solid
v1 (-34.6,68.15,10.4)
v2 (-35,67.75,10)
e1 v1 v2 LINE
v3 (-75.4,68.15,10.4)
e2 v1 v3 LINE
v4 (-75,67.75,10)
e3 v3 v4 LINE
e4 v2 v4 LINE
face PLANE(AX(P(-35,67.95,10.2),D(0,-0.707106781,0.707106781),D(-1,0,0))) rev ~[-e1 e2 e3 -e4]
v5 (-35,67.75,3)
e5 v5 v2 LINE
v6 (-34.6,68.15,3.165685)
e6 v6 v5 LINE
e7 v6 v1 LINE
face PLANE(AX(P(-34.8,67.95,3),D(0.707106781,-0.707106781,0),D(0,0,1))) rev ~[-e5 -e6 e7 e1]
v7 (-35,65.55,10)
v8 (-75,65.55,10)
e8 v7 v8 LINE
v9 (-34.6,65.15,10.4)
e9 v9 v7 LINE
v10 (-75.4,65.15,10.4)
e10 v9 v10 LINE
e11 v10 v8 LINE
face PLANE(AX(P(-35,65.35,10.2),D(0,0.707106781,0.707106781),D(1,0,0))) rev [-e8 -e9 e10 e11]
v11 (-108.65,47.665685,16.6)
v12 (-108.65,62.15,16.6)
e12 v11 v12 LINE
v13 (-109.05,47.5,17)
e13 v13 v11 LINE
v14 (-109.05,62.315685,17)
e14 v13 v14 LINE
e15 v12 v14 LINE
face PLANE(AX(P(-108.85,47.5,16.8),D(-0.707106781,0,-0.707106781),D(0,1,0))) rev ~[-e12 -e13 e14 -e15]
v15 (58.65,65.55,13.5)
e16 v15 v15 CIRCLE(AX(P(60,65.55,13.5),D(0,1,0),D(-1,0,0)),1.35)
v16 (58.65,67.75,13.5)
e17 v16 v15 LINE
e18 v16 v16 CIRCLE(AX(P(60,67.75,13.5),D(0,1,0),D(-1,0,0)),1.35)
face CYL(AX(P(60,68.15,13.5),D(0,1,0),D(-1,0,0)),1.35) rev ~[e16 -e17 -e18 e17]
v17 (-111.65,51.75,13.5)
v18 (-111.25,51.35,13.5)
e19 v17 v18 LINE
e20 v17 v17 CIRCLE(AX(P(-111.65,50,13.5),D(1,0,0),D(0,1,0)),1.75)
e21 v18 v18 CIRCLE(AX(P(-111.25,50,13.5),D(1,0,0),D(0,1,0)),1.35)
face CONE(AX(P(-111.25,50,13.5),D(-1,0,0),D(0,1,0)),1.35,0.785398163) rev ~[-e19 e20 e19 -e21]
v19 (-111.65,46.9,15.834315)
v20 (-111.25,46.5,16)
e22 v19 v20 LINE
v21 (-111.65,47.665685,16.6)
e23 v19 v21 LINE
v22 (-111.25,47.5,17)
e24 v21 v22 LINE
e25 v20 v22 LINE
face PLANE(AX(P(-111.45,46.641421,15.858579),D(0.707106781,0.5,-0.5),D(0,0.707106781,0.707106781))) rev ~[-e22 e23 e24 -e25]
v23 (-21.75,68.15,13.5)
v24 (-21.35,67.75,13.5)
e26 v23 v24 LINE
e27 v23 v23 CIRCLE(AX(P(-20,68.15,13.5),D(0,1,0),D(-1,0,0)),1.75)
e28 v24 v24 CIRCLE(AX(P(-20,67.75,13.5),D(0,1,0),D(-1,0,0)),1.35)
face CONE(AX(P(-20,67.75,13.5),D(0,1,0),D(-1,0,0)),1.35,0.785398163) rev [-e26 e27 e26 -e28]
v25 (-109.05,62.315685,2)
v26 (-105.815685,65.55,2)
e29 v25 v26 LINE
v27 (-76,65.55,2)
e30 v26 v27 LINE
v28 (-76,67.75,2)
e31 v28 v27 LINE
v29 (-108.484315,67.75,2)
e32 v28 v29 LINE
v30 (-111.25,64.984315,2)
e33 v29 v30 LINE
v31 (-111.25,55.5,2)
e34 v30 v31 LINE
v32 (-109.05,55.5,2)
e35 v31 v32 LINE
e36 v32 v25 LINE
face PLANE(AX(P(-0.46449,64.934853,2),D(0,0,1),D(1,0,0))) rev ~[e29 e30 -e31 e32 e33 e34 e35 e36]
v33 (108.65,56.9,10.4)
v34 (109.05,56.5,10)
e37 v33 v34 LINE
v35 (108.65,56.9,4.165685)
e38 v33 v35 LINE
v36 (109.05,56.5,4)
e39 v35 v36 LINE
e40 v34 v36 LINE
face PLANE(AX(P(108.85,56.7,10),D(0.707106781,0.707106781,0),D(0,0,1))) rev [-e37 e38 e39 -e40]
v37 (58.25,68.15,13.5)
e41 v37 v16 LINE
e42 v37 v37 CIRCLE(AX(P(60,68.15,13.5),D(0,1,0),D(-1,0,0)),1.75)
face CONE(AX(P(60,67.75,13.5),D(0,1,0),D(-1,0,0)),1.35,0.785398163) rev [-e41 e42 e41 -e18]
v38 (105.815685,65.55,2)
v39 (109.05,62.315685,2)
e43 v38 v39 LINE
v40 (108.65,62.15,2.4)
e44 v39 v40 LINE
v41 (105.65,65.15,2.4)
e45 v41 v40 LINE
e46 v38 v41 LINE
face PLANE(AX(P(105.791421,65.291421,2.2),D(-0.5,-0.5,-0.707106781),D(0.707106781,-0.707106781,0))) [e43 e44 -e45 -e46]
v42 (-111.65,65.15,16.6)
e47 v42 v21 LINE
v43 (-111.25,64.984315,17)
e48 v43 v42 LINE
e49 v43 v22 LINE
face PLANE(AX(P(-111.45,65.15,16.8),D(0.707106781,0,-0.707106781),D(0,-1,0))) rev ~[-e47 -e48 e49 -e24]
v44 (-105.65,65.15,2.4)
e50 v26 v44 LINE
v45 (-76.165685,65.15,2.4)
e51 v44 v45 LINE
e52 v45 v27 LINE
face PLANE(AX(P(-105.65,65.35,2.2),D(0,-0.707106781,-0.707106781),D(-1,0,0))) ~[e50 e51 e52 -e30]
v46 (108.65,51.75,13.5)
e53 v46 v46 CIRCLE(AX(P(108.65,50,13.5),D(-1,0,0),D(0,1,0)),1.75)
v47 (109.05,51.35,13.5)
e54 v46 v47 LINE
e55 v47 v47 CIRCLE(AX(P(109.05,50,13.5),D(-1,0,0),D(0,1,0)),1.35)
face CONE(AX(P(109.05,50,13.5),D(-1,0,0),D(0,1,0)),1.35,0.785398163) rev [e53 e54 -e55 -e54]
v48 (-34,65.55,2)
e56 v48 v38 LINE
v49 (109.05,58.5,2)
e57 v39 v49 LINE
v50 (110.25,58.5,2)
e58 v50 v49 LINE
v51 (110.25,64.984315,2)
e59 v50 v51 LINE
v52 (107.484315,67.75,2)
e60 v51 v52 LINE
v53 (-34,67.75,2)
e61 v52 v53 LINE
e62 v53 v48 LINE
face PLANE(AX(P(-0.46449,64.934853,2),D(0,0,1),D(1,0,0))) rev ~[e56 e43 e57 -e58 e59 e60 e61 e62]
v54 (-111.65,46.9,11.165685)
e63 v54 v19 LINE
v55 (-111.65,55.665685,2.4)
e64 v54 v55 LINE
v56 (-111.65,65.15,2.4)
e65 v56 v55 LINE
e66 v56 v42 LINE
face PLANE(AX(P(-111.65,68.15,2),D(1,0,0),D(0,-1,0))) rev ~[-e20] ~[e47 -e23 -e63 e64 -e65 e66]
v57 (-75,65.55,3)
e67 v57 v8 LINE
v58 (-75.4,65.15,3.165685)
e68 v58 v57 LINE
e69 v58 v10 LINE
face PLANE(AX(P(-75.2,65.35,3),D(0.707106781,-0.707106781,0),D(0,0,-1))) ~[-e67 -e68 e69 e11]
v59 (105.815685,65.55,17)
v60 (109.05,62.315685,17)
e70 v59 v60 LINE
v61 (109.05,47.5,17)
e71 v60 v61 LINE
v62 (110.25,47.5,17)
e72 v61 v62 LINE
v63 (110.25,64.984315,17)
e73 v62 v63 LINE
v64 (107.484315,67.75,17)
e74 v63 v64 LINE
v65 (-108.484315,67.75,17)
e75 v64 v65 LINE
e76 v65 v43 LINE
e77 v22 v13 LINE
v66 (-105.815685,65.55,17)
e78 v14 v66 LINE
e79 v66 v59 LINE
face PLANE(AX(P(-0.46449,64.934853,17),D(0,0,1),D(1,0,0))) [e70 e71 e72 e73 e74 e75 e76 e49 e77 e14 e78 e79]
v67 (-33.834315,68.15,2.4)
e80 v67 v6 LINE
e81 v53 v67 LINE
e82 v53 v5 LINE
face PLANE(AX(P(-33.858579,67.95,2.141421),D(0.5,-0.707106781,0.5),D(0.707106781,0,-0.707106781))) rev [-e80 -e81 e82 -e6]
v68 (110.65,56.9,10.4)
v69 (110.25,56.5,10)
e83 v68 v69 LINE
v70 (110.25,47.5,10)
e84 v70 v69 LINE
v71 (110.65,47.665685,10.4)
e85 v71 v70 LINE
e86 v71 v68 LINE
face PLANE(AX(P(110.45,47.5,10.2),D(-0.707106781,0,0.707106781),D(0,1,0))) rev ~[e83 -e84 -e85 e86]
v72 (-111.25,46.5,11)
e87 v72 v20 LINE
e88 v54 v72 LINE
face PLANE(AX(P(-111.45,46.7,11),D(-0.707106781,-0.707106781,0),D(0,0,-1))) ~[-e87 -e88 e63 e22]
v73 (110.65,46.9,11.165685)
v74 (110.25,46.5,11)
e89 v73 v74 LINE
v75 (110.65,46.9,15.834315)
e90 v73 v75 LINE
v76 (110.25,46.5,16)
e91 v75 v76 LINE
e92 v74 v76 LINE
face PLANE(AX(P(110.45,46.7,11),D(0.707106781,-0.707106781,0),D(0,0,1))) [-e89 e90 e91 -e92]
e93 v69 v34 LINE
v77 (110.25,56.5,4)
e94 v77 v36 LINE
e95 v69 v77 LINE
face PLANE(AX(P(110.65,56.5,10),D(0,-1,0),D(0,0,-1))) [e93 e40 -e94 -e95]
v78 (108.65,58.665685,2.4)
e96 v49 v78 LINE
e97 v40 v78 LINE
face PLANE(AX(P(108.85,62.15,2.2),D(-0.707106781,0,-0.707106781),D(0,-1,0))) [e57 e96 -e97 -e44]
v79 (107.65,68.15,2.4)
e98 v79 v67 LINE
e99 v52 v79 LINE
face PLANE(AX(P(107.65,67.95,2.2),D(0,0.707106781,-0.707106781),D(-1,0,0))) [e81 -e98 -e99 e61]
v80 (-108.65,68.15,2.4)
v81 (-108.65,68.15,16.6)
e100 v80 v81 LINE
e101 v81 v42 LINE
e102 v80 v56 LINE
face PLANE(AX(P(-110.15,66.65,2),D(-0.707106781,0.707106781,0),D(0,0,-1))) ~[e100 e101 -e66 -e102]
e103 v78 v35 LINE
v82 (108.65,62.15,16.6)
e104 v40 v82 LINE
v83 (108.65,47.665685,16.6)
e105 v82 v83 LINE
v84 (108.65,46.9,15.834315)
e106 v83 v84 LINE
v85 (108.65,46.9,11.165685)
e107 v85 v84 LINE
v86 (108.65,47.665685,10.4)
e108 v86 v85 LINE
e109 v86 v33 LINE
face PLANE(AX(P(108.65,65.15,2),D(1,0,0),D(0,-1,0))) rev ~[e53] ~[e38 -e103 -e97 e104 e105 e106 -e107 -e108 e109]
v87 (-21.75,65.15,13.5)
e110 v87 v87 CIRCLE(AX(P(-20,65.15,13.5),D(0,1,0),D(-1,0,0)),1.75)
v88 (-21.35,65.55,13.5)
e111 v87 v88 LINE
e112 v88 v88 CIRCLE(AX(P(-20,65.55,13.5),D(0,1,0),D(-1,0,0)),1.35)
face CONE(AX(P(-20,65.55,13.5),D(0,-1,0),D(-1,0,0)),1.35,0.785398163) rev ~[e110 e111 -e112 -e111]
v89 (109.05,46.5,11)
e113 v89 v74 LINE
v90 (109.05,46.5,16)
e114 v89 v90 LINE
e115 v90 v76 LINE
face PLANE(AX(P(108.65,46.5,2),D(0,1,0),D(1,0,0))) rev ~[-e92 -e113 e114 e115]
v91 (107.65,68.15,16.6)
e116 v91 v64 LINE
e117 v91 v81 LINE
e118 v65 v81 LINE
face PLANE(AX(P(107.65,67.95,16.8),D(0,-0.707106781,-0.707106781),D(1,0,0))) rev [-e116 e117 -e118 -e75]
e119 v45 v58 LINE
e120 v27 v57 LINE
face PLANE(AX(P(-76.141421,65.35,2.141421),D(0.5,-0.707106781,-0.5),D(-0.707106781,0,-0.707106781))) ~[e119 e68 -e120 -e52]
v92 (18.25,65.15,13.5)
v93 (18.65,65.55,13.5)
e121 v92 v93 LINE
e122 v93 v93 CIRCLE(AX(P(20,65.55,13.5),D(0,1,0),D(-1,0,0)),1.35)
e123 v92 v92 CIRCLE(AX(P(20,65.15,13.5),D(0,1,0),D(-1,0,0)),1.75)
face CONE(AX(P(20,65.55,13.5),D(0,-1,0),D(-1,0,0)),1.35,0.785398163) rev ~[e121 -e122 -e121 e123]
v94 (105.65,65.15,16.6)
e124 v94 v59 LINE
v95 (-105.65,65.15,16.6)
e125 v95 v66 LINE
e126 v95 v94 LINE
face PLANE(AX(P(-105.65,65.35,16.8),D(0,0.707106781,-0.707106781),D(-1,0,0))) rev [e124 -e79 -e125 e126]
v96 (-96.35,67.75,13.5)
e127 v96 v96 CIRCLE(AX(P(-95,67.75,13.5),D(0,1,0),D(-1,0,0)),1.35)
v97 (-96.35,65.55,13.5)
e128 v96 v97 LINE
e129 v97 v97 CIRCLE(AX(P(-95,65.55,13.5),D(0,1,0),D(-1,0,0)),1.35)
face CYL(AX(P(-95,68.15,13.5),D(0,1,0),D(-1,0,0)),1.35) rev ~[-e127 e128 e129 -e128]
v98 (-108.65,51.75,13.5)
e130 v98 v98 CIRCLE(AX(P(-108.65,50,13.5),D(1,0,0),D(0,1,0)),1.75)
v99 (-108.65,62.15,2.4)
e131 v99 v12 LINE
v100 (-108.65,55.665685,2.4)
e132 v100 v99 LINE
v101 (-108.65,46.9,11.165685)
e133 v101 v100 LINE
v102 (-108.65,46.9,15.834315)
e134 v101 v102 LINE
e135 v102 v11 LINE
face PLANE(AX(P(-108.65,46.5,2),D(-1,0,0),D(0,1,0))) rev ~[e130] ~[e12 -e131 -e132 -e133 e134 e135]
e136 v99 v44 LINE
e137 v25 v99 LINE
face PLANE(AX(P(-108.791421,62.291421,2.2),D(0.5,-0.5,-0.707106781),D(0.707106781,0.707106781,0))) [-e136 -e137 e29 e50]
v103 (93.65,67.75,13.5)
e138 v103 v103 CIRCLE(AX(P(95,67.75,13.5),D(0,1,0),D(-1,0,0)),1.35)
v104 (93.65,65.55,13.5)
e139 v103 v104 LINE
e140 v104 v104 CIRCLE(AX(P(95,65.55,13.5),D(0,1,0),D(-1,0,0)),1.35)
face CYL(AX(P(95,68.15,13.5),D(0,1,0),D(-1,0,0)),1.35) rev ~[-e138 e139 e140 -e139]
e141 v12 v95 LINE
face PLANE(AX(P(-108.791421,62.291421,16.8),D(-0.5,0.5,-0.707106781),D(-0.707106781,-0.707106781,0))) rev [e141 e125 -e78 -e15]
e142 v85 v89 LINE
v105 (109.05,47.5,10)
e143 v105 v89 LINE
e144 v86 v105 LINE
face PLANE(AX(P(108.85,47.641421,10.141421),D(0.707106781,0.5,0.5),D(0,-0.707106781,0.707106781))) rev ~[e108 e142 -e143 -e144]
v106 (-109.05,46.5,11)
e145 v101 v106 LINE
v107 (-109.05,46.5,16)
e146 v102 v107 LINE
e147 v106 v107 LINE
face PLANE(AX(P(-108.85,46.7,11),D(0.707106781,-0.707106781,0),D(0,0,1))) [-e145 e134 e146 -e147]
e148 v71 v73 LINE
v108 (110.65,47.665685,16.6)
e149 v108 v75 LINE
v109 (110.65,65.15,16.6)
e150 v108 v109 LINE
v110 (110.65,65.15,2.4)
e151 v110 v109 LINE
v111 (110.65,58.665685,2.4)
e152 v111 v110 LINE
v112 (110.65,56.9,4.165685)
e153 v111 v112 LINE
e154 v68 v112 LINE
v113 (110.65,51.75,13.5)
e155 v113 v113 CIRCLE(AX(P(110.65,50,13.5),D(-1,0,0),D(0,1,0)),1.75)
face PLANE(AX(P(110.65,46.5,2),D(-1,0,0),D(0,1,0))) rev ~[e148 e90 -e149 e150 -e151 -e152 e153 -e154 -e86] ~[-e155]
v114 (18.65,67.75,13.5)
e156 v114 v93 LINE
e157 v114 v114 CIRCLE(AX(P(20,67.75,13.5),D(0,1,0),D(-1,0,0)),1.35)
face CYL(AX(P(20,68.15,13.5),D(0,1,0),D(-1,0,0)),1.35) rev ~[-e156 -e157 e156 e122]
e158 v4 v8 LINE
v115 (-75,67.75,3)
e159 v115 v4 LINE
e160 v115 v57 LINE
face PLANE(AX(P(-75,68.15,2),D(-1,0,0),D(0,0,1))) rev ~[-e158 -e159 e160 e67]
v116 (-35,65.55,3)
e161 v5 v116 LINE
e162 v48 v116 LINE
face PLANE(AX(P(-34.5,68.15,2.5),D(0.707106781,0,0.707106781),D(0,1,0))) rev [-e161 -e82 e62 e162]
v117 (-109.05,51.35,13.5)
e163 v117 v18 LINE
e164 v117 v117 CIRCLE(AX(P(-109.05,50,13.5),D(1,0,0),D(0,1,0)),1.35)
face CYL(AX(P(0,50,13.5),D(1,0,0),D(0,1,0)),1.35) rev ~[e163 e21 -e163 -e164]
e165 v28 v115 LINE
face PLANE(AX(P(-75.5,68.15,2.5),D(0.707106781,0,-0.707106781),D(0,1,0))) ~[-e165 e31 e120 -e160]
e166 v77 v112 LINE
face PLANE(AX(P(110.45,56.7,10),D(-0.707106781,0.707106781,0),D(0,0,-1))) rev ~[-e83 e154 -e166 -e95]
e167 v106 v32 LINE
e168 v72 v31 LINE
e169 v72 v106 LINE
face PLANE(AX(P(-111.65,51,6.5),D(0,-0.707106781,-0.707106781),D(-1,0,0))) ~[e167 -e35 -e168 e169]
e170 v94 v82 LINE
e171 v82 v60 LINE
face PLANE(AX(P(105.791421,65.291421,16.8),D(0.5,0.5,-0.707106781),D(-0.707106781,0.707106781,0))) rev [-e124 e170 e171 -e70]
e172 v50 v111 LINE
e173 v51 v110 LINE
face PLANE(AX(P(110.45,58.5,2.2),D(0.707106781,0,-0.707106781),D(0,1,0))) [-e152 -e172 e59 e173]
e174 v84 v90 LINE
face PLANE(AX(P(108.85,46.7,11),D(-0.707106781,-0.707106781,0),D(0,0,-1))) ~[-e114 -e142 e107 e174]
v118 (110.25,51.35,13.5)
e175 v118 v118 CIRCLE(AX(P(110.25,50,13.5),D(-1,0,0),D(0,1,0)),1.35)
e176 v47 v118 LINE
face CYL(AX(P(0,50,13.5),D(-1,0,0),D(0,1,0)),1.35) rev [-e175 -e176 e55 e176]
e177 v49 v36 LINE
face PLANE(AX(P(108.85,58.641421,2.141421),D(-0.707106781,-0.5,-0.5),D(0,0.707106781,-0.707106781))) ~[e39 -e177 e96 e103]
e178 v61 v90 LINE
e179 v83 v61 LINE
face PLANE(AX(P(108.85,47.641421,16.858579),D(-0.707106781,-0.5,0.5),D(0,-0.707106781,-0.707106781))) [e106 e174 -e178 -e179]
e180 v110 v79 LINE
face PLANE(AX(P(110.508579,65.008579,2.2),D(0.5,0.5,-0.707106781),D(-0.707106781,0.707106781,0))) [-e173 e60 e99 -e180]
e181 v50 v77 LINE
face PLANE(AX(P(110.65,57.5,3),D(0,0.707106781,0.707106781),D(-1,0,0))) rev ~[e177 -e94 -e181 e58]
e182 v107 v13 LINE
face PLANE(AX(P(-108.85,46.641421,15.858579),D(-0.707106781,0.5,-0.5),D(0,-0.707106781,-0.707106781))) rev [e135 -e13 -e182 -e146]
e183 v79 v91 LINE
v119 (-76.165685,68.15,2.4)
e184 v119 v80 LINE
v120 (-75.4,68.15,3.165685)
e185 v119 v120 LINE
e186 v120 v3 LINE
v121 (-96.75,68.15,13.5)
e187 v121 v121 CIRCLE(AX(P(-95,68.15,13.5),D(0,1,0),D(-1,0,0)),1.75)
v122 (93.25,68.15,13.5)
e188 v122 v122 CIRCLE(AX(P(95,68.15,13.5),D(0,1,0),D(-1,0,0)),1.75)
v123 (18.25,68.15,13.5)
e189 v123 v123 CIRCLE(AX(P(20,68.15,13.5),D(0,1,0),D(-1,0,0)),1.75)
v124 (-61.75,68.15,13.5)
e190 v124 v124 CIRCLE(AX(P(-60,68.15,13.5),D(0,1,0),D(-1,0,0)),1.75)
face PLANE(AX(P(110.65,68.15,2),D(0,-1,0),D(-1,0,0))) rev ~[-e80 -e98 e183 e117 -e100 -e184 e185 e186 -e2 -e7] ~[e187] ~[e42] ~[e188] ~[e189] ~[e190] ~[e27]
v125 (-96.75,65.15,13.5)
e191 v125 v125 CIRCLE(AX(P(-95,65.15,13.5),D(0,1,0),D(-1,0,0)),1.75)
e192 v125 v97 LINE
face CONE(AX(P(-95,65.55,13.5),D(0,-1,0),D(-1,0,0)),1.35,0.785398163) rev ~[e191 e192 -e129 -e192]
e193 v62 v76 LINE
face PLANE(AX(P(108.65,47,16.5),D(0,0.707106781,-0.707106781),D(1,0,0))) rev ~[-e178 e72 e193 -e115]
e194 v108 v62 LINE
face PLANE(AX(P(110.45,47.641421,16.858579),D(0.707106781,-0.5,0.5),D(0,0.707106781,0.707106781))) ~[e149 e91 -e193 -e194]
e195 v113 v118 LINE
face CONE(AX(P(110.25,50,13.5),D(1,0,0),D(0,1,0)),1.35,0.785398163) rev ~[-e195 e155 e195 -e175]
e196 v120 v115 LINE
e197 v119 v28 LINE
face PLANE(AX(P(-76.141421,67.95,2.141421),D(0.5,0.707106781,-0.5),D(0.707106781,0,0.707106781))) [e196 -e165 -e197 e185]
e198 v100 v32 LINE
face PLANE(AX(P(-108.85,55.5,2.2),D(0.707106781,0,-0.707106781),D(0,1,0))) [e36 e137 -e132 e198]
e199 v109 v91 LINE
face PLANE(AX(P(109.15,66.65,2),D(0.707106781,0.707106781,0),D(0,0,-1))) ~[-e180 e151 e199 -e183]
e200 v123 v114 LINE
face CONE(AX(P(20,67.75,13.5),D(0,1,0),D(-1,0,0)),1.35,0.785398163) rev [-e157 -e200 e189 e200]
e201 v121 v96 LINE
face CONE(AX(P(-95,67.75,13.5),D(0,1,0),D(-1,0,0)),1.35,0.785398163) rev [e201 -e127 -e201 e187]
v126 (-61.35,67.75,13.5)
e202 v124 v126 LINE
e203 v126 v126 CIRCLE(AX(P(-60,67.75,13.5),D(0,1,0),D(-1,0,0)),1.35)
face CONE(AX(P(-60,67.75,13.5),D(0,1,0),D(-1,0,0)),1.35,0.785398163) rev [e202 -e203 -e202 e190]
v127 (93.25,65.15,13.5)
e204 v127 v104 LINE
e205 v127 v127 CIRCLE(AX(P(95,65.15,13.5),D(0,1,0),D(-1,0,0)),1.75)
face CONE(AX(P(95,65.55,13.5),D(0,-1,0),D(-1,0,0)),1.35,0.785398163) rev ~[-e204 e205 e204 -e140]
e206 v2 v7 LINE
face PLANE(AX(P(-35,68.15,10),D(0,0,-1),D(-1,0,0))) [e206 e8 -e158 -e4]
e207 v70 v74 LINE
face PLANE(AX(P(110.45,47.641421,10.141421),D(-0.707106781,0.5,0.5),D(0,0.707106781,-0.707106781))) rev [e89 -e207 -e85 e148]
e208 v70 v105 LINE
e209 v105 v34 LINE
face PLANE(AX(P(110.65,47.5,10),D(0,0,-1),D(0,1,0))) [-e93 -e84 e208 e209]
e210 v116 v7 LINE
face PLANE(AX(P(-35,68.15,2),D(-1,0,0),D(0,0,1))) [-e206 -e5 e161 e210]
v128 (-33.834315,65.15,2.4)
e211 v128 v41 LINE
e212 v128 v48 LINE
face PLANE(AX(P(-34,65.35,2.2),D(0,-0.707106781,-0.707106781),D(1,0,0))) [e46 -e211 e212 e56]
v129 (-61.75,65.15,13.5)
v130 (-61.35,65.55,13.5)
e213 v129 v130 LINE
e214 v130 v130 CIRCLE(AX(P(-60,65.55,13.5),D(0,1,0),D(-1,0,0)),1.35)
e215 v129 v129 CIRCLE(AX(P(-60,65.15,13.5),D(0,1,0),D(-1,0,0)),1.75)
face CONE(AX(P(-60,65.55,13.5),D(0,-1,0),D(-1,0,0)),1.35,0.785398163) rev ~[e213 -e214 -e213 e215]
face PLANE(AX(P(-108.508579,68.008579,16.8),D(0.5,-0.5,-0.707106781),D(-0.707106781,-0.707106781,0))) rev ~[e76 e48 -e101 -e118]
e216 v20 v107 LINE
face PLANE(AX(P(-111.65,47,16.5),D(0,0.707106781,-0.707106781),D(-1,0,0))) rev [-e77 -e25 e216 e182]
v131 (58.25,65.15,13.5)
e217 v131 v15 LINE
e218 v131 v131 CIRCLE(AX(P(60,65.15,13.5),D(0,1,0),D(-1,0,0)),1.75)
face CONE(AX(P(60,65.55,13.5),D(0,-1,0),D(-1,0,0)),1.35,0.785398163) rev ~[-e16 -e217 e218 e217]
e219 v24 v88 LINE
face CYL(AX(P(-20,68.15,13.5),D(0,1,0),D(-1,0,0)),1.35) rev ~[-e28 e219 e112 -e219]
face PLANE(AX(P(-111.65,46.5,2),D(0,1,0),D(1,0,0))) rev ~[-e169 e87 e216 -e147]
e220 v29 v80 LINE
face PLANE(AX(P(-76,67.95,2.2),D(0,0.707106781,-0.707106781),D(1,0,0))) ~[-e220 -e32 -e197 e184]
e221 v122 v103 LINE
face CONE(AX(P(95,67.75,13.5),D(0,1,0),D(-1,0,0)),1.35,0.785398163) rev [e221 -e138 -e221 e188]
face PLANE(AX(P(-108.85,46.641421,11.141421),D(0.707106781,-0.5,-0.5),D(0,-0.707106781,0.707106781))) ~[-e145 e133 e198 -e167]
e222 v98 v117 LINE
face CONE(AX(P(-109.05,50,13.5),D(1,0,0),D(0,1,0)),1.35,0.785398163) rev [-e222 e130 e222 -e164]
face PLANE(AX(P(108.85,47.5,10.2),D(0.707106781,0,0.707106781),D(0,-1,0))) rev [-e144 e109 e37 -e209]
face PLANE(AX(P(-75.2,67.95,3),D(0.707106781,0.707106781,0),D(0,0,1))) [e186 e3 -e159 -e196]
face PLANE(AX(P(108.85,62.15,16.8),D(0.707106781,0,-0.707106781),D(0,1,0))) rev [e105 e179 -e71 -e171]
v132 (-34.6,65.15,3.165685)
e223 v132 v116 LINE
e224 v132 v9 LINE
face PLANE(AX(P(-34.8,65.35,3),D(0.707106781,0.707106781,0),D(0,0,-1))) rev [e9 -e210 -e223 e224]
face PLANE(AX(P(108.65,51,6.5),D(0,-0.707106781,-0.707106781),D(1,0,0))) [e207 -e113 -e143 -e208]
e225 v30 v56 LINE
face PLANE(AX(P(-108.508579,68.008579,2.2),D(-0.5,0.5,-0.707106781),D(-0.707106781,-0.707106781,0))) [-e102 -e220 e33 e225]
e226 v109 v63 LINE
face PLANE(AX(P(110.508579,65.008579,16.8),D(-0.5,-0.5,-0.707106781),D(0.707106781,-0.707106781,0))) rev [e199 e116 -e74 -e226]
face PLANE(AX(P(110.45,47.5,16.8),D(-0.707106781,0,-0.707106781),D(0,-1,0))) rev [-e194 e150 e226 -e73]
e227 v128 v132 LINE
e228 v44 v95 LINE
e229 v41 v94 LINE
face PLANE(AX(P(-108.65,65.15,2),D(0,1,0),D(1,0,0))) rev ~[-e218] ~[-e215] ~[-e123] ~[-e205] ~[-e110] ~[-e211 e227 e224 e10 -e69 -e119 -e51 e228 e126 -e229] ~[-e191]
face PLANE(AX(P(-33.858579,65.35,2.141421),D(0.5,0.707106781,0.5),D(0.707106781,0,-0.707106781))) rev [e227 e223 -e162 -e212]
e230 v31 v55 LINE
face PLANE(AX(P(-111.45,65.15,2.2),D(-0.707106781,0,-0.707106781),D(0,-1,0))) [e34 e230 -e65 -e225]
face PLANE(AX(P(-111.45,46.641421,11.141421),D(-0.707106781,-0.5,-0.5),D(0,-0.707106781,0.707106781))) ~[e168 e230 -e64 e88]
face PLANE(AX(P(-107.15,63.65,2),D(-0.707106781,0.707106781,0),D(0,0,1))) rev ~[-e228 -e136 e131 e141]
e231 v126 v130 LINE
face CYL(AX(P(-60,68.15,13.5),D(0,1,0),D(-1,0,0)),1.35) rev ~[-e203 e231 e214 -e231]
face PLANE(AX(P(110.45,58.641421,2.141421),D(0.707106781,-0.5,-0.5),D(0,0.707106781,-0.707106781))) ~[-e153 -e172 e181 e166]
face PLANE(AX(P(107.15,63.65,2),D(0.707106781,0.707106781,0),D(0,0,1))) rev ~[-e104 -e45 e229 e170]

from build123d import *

# Parameters (mm, degrees)
PAD008_DEPTH         = 15
CHAMFER011016_SIZE   = 3
SKETCH047_R          = 1.35
POCKET019_DEPTH      = 111.651
POCKET019_DEPTH_BACK = 110.651
CHAMFER011017_SIZE   = 1
CHAMFER011018_SIZE   = 9
SKETCH048_R          = 1.35
POCKET020_DEPTH      = 21.651
POCKET023_DEPTH      = 5
CHAMFER011022_SIZE   = 2
SKETCH053_W          = 40
SKETCH053_H          = 8
POCKET025_DEPTH      = 21.651
CHAMFER011023_SIZE   = 1
CHAMFER011024_SIZE   = 0.4


with BuildPart() as part:
    # Sketch046 → Pad008 (new body)
    with BuildSketch(Plane.XY):
        Polygon((-108.65, 46.5), (-108.65, 65.15), (108.65, 65.15), (108.65, 46.5), (110.65, 46.5), (110.65, 68.15), (-111.65, 68.15), (-111.65, 46.5), align=None)
    extrude(amount=PAD008_DEPTH)

    # Chamfer011016
    chamfer011016_edges = [part.edges().sort_by_distance(p)[0] for p in [
        (110.65, 68.15, 7.5),
        (108.65, 65.15, 7.5),
        (-111.65, 68.15, 7.5),
        (-108.65, 65.15, 7.5),
    ]]
    chamfer(chamfer011016_edges, length=CHAMFER011016_SIZE)

    # Sketch047 → Pocket019 (cut, two sides)
    with BuildSketch(Plane.YZ) as pocket019_sk:
        with Locations((50, 11.5)):
            Circle(SKETCH047_R)
    extrude(amount=-POCKET019_DEPTH, mode=Mode.SUBTRACT)
    extrude(pocket019_sk.sketch, amount=POCKET019_DEPTH_BACK, mode=Mode.SUBTRACT)

    # Chamfer011017
    chamfer011017_edges = [part.edges().sort_by_distance(p)[0] for p in [
        (109.65, 46.5, 15),
        (-110.15, 46.5, 15),
    ]]
    chamfer(chamfer011017_edges, length=CHAMFER011017_SIZE)

    # Chamfer011018
    chamfer011018_edges = [part.edges().sort_by_distance(p)[0] for p in [
        (109.65, 46.5, 0),
        (-110.15, 46.5, 0),
    ]]
    chamfer(chamfer011018_edges, length=CHAMFER011018_SIZE)

    # Sketch048 (on Face13 of Chamfer011018) → Pocket020 (cut, through all)
    with BuildSketch(Plane(origin=(0, 68.15, 0), x_dir=(-1, 0, 0), z_dir=(0, 1, 0))):
        with Locations((-95, 11.5)):
            Circle(SKETCH048_R)
        with Locations((-60, 11.5)):
            Circle(SKETCH048_R)
        with Locations((-20, 11.5)):
            Circle(SKETCH048_R)
        with Locations((20, 11.5)):
            Circle(SKETCH048_R)
        with Locations((60, 11.5)):
            Circle(SKETCH048_R)
        with Locations((95, 11.5)):
            Circle(SKETCH048_R)
    extrude(amount=-POCKET020_DEPTH, mode=Mode.SUBTRACT)

    # Sketch051 (on Face17 of Pocket020) → Pocket023 (cut)
    with BuildSketch(Plane.YZ.offset(110.65)):
        Polygon((47.5, 8), (56.5, 8), (56.5, 0), (55.5, 0), align=None)
    extrude(amount=-POCKET023_DEPTH, mode=Mode.SUBTRACT)

    # Chamfer011022
    chamfer011022_edges = [part.edges().sort_by_distance(p)[0] for p in [
        (109.65, 56.5, 0),
    ]]
    chamfer(chamfer011022_edges, length=CHAMFER011022_SIZE)

    # Sketch053 (on Face6 of Chamfer011022) → Pocket025 (cut, through all)
    with BuildSketch(Plane(origin=(0, 68.15, 0), x_dir=(-1, 0, 0), z_dir=(0, 1, 0))):
        with Locations((55, 4)):
            Rectangle(SKETCH053_W, SKETCH053_H)
    extrude(amount=-POCKET025_DEPTH, mode=Mode.SUBTRACT)

    # Chamfer011023
    chamfer011023_edges = [part.edges().sort_by_distance(p)[0] for p in [
        (-75, 66.65, 0),
        (-35, 66.65, 0),
    ]]
    chamfer(chamfer011023_edges, length=CHAMFER011023_SIZE)

    # Chamfer011024
    chamfer011024_edges = [part.edges().sort_by_distance(p)[0] for p in [
        (-111.65, 46.5, 11.5),
        (-111.65, 47, 14.5),
        (-111.65, 56.325, 15),
        (-111.65, 48.65, 11.5),
        (-108.65, 48.65, 11.5),
        (-111.65, 51, 4.5),
        (-111.65, 60.325, 0),
        (-110.15, 66.65, 0),
        (-92.325, 68.15, 0),
        (-110.15, 66.65, 15),
        (-0.5, 68.15, 15),
        (-93.65, 68.15, 11.5),
        (-93.65, 65.15, 11.5),
        (-75.5, 68.15, 0.5),
        (-75, 68.15, 4.5),
        (-55, 68.15, 8),
        (-35, 68.15, 4.5),
        (-34.5, 68.15, 0.5),
        (36.825, 68.15, 0),
        (-58.65, 68.15, 11.5),
        (-58.65, 65.15, 11.5),
        (-18.65, 68.15, 11.5),
        (-18.65, 65.15, 11.5),
        (21.35, 68.15, 11.5),
        (21.35, 65.15, 11.5),
        (61.35, 68.15, 11.5),
        (61.35, 65.15, 11.5),
        (96.35, 68.15, 11.5),
        (96.35, 65.15, 11.5),
        (109.15, 66.65, 15),
        (110.65, 56.325, 15),
        (107.15, 63.65, 15),
        (108.65, 54.825, 15),
        (0, 65.15, 15),
        (-107.15, 63.65, 15),
        (-108.65, 54.825, 15),
        (-108.65, 47, 14.5),
        (-108.65, 46.5, 11.5),
        (-108.65, 51, 4.5),
        (-108.65, 58.825, 0),
        (-107.15, 63.65, 0),
        (-90.825, 65.15, 0),
        (-75.5, 65.15, 0.5),
        (-75, 65.15, 4.5),
        (-55, 65.15, 8),
        (-35, 65.15, 4.5),
        (-34.5, 65.15, 0.5),
        (35.825, 65.15, 0),
        (107.15, 63.65, 0),
        (109.15, 66.65, 0),
        (110.65, 61.825, 0),
        (108.65, 60.325, 0),
        (110.65, 57.5, 1),
        (108.65, 57.5, 1),
        (110.65, 56.5, 5),
        (108.65, 56.5, 5),
        (108.65, 52, 8),
        (110.65, 52, 8),
        (110.65, 48.65, 11.5),
        (108.65, 48.65, 11.5),
        (110.65, 47, 8.5),
        (108.65, 47, 8.5),
        (108.65, 46.5, 11.5),
        (110.65, 46.5, 11.5),
        (110.65, 47, 14.5),
        (108.65, 47, 14.5),
    ]]
    chamfer(chamfer011024_edges, length=CHAMFER011024_SIZE)


with BuildPart() as part_1:
    # Body006010 placement: moved
    add(part.part.moved(Location((0, 0, 2))))


solid = part_1.part
